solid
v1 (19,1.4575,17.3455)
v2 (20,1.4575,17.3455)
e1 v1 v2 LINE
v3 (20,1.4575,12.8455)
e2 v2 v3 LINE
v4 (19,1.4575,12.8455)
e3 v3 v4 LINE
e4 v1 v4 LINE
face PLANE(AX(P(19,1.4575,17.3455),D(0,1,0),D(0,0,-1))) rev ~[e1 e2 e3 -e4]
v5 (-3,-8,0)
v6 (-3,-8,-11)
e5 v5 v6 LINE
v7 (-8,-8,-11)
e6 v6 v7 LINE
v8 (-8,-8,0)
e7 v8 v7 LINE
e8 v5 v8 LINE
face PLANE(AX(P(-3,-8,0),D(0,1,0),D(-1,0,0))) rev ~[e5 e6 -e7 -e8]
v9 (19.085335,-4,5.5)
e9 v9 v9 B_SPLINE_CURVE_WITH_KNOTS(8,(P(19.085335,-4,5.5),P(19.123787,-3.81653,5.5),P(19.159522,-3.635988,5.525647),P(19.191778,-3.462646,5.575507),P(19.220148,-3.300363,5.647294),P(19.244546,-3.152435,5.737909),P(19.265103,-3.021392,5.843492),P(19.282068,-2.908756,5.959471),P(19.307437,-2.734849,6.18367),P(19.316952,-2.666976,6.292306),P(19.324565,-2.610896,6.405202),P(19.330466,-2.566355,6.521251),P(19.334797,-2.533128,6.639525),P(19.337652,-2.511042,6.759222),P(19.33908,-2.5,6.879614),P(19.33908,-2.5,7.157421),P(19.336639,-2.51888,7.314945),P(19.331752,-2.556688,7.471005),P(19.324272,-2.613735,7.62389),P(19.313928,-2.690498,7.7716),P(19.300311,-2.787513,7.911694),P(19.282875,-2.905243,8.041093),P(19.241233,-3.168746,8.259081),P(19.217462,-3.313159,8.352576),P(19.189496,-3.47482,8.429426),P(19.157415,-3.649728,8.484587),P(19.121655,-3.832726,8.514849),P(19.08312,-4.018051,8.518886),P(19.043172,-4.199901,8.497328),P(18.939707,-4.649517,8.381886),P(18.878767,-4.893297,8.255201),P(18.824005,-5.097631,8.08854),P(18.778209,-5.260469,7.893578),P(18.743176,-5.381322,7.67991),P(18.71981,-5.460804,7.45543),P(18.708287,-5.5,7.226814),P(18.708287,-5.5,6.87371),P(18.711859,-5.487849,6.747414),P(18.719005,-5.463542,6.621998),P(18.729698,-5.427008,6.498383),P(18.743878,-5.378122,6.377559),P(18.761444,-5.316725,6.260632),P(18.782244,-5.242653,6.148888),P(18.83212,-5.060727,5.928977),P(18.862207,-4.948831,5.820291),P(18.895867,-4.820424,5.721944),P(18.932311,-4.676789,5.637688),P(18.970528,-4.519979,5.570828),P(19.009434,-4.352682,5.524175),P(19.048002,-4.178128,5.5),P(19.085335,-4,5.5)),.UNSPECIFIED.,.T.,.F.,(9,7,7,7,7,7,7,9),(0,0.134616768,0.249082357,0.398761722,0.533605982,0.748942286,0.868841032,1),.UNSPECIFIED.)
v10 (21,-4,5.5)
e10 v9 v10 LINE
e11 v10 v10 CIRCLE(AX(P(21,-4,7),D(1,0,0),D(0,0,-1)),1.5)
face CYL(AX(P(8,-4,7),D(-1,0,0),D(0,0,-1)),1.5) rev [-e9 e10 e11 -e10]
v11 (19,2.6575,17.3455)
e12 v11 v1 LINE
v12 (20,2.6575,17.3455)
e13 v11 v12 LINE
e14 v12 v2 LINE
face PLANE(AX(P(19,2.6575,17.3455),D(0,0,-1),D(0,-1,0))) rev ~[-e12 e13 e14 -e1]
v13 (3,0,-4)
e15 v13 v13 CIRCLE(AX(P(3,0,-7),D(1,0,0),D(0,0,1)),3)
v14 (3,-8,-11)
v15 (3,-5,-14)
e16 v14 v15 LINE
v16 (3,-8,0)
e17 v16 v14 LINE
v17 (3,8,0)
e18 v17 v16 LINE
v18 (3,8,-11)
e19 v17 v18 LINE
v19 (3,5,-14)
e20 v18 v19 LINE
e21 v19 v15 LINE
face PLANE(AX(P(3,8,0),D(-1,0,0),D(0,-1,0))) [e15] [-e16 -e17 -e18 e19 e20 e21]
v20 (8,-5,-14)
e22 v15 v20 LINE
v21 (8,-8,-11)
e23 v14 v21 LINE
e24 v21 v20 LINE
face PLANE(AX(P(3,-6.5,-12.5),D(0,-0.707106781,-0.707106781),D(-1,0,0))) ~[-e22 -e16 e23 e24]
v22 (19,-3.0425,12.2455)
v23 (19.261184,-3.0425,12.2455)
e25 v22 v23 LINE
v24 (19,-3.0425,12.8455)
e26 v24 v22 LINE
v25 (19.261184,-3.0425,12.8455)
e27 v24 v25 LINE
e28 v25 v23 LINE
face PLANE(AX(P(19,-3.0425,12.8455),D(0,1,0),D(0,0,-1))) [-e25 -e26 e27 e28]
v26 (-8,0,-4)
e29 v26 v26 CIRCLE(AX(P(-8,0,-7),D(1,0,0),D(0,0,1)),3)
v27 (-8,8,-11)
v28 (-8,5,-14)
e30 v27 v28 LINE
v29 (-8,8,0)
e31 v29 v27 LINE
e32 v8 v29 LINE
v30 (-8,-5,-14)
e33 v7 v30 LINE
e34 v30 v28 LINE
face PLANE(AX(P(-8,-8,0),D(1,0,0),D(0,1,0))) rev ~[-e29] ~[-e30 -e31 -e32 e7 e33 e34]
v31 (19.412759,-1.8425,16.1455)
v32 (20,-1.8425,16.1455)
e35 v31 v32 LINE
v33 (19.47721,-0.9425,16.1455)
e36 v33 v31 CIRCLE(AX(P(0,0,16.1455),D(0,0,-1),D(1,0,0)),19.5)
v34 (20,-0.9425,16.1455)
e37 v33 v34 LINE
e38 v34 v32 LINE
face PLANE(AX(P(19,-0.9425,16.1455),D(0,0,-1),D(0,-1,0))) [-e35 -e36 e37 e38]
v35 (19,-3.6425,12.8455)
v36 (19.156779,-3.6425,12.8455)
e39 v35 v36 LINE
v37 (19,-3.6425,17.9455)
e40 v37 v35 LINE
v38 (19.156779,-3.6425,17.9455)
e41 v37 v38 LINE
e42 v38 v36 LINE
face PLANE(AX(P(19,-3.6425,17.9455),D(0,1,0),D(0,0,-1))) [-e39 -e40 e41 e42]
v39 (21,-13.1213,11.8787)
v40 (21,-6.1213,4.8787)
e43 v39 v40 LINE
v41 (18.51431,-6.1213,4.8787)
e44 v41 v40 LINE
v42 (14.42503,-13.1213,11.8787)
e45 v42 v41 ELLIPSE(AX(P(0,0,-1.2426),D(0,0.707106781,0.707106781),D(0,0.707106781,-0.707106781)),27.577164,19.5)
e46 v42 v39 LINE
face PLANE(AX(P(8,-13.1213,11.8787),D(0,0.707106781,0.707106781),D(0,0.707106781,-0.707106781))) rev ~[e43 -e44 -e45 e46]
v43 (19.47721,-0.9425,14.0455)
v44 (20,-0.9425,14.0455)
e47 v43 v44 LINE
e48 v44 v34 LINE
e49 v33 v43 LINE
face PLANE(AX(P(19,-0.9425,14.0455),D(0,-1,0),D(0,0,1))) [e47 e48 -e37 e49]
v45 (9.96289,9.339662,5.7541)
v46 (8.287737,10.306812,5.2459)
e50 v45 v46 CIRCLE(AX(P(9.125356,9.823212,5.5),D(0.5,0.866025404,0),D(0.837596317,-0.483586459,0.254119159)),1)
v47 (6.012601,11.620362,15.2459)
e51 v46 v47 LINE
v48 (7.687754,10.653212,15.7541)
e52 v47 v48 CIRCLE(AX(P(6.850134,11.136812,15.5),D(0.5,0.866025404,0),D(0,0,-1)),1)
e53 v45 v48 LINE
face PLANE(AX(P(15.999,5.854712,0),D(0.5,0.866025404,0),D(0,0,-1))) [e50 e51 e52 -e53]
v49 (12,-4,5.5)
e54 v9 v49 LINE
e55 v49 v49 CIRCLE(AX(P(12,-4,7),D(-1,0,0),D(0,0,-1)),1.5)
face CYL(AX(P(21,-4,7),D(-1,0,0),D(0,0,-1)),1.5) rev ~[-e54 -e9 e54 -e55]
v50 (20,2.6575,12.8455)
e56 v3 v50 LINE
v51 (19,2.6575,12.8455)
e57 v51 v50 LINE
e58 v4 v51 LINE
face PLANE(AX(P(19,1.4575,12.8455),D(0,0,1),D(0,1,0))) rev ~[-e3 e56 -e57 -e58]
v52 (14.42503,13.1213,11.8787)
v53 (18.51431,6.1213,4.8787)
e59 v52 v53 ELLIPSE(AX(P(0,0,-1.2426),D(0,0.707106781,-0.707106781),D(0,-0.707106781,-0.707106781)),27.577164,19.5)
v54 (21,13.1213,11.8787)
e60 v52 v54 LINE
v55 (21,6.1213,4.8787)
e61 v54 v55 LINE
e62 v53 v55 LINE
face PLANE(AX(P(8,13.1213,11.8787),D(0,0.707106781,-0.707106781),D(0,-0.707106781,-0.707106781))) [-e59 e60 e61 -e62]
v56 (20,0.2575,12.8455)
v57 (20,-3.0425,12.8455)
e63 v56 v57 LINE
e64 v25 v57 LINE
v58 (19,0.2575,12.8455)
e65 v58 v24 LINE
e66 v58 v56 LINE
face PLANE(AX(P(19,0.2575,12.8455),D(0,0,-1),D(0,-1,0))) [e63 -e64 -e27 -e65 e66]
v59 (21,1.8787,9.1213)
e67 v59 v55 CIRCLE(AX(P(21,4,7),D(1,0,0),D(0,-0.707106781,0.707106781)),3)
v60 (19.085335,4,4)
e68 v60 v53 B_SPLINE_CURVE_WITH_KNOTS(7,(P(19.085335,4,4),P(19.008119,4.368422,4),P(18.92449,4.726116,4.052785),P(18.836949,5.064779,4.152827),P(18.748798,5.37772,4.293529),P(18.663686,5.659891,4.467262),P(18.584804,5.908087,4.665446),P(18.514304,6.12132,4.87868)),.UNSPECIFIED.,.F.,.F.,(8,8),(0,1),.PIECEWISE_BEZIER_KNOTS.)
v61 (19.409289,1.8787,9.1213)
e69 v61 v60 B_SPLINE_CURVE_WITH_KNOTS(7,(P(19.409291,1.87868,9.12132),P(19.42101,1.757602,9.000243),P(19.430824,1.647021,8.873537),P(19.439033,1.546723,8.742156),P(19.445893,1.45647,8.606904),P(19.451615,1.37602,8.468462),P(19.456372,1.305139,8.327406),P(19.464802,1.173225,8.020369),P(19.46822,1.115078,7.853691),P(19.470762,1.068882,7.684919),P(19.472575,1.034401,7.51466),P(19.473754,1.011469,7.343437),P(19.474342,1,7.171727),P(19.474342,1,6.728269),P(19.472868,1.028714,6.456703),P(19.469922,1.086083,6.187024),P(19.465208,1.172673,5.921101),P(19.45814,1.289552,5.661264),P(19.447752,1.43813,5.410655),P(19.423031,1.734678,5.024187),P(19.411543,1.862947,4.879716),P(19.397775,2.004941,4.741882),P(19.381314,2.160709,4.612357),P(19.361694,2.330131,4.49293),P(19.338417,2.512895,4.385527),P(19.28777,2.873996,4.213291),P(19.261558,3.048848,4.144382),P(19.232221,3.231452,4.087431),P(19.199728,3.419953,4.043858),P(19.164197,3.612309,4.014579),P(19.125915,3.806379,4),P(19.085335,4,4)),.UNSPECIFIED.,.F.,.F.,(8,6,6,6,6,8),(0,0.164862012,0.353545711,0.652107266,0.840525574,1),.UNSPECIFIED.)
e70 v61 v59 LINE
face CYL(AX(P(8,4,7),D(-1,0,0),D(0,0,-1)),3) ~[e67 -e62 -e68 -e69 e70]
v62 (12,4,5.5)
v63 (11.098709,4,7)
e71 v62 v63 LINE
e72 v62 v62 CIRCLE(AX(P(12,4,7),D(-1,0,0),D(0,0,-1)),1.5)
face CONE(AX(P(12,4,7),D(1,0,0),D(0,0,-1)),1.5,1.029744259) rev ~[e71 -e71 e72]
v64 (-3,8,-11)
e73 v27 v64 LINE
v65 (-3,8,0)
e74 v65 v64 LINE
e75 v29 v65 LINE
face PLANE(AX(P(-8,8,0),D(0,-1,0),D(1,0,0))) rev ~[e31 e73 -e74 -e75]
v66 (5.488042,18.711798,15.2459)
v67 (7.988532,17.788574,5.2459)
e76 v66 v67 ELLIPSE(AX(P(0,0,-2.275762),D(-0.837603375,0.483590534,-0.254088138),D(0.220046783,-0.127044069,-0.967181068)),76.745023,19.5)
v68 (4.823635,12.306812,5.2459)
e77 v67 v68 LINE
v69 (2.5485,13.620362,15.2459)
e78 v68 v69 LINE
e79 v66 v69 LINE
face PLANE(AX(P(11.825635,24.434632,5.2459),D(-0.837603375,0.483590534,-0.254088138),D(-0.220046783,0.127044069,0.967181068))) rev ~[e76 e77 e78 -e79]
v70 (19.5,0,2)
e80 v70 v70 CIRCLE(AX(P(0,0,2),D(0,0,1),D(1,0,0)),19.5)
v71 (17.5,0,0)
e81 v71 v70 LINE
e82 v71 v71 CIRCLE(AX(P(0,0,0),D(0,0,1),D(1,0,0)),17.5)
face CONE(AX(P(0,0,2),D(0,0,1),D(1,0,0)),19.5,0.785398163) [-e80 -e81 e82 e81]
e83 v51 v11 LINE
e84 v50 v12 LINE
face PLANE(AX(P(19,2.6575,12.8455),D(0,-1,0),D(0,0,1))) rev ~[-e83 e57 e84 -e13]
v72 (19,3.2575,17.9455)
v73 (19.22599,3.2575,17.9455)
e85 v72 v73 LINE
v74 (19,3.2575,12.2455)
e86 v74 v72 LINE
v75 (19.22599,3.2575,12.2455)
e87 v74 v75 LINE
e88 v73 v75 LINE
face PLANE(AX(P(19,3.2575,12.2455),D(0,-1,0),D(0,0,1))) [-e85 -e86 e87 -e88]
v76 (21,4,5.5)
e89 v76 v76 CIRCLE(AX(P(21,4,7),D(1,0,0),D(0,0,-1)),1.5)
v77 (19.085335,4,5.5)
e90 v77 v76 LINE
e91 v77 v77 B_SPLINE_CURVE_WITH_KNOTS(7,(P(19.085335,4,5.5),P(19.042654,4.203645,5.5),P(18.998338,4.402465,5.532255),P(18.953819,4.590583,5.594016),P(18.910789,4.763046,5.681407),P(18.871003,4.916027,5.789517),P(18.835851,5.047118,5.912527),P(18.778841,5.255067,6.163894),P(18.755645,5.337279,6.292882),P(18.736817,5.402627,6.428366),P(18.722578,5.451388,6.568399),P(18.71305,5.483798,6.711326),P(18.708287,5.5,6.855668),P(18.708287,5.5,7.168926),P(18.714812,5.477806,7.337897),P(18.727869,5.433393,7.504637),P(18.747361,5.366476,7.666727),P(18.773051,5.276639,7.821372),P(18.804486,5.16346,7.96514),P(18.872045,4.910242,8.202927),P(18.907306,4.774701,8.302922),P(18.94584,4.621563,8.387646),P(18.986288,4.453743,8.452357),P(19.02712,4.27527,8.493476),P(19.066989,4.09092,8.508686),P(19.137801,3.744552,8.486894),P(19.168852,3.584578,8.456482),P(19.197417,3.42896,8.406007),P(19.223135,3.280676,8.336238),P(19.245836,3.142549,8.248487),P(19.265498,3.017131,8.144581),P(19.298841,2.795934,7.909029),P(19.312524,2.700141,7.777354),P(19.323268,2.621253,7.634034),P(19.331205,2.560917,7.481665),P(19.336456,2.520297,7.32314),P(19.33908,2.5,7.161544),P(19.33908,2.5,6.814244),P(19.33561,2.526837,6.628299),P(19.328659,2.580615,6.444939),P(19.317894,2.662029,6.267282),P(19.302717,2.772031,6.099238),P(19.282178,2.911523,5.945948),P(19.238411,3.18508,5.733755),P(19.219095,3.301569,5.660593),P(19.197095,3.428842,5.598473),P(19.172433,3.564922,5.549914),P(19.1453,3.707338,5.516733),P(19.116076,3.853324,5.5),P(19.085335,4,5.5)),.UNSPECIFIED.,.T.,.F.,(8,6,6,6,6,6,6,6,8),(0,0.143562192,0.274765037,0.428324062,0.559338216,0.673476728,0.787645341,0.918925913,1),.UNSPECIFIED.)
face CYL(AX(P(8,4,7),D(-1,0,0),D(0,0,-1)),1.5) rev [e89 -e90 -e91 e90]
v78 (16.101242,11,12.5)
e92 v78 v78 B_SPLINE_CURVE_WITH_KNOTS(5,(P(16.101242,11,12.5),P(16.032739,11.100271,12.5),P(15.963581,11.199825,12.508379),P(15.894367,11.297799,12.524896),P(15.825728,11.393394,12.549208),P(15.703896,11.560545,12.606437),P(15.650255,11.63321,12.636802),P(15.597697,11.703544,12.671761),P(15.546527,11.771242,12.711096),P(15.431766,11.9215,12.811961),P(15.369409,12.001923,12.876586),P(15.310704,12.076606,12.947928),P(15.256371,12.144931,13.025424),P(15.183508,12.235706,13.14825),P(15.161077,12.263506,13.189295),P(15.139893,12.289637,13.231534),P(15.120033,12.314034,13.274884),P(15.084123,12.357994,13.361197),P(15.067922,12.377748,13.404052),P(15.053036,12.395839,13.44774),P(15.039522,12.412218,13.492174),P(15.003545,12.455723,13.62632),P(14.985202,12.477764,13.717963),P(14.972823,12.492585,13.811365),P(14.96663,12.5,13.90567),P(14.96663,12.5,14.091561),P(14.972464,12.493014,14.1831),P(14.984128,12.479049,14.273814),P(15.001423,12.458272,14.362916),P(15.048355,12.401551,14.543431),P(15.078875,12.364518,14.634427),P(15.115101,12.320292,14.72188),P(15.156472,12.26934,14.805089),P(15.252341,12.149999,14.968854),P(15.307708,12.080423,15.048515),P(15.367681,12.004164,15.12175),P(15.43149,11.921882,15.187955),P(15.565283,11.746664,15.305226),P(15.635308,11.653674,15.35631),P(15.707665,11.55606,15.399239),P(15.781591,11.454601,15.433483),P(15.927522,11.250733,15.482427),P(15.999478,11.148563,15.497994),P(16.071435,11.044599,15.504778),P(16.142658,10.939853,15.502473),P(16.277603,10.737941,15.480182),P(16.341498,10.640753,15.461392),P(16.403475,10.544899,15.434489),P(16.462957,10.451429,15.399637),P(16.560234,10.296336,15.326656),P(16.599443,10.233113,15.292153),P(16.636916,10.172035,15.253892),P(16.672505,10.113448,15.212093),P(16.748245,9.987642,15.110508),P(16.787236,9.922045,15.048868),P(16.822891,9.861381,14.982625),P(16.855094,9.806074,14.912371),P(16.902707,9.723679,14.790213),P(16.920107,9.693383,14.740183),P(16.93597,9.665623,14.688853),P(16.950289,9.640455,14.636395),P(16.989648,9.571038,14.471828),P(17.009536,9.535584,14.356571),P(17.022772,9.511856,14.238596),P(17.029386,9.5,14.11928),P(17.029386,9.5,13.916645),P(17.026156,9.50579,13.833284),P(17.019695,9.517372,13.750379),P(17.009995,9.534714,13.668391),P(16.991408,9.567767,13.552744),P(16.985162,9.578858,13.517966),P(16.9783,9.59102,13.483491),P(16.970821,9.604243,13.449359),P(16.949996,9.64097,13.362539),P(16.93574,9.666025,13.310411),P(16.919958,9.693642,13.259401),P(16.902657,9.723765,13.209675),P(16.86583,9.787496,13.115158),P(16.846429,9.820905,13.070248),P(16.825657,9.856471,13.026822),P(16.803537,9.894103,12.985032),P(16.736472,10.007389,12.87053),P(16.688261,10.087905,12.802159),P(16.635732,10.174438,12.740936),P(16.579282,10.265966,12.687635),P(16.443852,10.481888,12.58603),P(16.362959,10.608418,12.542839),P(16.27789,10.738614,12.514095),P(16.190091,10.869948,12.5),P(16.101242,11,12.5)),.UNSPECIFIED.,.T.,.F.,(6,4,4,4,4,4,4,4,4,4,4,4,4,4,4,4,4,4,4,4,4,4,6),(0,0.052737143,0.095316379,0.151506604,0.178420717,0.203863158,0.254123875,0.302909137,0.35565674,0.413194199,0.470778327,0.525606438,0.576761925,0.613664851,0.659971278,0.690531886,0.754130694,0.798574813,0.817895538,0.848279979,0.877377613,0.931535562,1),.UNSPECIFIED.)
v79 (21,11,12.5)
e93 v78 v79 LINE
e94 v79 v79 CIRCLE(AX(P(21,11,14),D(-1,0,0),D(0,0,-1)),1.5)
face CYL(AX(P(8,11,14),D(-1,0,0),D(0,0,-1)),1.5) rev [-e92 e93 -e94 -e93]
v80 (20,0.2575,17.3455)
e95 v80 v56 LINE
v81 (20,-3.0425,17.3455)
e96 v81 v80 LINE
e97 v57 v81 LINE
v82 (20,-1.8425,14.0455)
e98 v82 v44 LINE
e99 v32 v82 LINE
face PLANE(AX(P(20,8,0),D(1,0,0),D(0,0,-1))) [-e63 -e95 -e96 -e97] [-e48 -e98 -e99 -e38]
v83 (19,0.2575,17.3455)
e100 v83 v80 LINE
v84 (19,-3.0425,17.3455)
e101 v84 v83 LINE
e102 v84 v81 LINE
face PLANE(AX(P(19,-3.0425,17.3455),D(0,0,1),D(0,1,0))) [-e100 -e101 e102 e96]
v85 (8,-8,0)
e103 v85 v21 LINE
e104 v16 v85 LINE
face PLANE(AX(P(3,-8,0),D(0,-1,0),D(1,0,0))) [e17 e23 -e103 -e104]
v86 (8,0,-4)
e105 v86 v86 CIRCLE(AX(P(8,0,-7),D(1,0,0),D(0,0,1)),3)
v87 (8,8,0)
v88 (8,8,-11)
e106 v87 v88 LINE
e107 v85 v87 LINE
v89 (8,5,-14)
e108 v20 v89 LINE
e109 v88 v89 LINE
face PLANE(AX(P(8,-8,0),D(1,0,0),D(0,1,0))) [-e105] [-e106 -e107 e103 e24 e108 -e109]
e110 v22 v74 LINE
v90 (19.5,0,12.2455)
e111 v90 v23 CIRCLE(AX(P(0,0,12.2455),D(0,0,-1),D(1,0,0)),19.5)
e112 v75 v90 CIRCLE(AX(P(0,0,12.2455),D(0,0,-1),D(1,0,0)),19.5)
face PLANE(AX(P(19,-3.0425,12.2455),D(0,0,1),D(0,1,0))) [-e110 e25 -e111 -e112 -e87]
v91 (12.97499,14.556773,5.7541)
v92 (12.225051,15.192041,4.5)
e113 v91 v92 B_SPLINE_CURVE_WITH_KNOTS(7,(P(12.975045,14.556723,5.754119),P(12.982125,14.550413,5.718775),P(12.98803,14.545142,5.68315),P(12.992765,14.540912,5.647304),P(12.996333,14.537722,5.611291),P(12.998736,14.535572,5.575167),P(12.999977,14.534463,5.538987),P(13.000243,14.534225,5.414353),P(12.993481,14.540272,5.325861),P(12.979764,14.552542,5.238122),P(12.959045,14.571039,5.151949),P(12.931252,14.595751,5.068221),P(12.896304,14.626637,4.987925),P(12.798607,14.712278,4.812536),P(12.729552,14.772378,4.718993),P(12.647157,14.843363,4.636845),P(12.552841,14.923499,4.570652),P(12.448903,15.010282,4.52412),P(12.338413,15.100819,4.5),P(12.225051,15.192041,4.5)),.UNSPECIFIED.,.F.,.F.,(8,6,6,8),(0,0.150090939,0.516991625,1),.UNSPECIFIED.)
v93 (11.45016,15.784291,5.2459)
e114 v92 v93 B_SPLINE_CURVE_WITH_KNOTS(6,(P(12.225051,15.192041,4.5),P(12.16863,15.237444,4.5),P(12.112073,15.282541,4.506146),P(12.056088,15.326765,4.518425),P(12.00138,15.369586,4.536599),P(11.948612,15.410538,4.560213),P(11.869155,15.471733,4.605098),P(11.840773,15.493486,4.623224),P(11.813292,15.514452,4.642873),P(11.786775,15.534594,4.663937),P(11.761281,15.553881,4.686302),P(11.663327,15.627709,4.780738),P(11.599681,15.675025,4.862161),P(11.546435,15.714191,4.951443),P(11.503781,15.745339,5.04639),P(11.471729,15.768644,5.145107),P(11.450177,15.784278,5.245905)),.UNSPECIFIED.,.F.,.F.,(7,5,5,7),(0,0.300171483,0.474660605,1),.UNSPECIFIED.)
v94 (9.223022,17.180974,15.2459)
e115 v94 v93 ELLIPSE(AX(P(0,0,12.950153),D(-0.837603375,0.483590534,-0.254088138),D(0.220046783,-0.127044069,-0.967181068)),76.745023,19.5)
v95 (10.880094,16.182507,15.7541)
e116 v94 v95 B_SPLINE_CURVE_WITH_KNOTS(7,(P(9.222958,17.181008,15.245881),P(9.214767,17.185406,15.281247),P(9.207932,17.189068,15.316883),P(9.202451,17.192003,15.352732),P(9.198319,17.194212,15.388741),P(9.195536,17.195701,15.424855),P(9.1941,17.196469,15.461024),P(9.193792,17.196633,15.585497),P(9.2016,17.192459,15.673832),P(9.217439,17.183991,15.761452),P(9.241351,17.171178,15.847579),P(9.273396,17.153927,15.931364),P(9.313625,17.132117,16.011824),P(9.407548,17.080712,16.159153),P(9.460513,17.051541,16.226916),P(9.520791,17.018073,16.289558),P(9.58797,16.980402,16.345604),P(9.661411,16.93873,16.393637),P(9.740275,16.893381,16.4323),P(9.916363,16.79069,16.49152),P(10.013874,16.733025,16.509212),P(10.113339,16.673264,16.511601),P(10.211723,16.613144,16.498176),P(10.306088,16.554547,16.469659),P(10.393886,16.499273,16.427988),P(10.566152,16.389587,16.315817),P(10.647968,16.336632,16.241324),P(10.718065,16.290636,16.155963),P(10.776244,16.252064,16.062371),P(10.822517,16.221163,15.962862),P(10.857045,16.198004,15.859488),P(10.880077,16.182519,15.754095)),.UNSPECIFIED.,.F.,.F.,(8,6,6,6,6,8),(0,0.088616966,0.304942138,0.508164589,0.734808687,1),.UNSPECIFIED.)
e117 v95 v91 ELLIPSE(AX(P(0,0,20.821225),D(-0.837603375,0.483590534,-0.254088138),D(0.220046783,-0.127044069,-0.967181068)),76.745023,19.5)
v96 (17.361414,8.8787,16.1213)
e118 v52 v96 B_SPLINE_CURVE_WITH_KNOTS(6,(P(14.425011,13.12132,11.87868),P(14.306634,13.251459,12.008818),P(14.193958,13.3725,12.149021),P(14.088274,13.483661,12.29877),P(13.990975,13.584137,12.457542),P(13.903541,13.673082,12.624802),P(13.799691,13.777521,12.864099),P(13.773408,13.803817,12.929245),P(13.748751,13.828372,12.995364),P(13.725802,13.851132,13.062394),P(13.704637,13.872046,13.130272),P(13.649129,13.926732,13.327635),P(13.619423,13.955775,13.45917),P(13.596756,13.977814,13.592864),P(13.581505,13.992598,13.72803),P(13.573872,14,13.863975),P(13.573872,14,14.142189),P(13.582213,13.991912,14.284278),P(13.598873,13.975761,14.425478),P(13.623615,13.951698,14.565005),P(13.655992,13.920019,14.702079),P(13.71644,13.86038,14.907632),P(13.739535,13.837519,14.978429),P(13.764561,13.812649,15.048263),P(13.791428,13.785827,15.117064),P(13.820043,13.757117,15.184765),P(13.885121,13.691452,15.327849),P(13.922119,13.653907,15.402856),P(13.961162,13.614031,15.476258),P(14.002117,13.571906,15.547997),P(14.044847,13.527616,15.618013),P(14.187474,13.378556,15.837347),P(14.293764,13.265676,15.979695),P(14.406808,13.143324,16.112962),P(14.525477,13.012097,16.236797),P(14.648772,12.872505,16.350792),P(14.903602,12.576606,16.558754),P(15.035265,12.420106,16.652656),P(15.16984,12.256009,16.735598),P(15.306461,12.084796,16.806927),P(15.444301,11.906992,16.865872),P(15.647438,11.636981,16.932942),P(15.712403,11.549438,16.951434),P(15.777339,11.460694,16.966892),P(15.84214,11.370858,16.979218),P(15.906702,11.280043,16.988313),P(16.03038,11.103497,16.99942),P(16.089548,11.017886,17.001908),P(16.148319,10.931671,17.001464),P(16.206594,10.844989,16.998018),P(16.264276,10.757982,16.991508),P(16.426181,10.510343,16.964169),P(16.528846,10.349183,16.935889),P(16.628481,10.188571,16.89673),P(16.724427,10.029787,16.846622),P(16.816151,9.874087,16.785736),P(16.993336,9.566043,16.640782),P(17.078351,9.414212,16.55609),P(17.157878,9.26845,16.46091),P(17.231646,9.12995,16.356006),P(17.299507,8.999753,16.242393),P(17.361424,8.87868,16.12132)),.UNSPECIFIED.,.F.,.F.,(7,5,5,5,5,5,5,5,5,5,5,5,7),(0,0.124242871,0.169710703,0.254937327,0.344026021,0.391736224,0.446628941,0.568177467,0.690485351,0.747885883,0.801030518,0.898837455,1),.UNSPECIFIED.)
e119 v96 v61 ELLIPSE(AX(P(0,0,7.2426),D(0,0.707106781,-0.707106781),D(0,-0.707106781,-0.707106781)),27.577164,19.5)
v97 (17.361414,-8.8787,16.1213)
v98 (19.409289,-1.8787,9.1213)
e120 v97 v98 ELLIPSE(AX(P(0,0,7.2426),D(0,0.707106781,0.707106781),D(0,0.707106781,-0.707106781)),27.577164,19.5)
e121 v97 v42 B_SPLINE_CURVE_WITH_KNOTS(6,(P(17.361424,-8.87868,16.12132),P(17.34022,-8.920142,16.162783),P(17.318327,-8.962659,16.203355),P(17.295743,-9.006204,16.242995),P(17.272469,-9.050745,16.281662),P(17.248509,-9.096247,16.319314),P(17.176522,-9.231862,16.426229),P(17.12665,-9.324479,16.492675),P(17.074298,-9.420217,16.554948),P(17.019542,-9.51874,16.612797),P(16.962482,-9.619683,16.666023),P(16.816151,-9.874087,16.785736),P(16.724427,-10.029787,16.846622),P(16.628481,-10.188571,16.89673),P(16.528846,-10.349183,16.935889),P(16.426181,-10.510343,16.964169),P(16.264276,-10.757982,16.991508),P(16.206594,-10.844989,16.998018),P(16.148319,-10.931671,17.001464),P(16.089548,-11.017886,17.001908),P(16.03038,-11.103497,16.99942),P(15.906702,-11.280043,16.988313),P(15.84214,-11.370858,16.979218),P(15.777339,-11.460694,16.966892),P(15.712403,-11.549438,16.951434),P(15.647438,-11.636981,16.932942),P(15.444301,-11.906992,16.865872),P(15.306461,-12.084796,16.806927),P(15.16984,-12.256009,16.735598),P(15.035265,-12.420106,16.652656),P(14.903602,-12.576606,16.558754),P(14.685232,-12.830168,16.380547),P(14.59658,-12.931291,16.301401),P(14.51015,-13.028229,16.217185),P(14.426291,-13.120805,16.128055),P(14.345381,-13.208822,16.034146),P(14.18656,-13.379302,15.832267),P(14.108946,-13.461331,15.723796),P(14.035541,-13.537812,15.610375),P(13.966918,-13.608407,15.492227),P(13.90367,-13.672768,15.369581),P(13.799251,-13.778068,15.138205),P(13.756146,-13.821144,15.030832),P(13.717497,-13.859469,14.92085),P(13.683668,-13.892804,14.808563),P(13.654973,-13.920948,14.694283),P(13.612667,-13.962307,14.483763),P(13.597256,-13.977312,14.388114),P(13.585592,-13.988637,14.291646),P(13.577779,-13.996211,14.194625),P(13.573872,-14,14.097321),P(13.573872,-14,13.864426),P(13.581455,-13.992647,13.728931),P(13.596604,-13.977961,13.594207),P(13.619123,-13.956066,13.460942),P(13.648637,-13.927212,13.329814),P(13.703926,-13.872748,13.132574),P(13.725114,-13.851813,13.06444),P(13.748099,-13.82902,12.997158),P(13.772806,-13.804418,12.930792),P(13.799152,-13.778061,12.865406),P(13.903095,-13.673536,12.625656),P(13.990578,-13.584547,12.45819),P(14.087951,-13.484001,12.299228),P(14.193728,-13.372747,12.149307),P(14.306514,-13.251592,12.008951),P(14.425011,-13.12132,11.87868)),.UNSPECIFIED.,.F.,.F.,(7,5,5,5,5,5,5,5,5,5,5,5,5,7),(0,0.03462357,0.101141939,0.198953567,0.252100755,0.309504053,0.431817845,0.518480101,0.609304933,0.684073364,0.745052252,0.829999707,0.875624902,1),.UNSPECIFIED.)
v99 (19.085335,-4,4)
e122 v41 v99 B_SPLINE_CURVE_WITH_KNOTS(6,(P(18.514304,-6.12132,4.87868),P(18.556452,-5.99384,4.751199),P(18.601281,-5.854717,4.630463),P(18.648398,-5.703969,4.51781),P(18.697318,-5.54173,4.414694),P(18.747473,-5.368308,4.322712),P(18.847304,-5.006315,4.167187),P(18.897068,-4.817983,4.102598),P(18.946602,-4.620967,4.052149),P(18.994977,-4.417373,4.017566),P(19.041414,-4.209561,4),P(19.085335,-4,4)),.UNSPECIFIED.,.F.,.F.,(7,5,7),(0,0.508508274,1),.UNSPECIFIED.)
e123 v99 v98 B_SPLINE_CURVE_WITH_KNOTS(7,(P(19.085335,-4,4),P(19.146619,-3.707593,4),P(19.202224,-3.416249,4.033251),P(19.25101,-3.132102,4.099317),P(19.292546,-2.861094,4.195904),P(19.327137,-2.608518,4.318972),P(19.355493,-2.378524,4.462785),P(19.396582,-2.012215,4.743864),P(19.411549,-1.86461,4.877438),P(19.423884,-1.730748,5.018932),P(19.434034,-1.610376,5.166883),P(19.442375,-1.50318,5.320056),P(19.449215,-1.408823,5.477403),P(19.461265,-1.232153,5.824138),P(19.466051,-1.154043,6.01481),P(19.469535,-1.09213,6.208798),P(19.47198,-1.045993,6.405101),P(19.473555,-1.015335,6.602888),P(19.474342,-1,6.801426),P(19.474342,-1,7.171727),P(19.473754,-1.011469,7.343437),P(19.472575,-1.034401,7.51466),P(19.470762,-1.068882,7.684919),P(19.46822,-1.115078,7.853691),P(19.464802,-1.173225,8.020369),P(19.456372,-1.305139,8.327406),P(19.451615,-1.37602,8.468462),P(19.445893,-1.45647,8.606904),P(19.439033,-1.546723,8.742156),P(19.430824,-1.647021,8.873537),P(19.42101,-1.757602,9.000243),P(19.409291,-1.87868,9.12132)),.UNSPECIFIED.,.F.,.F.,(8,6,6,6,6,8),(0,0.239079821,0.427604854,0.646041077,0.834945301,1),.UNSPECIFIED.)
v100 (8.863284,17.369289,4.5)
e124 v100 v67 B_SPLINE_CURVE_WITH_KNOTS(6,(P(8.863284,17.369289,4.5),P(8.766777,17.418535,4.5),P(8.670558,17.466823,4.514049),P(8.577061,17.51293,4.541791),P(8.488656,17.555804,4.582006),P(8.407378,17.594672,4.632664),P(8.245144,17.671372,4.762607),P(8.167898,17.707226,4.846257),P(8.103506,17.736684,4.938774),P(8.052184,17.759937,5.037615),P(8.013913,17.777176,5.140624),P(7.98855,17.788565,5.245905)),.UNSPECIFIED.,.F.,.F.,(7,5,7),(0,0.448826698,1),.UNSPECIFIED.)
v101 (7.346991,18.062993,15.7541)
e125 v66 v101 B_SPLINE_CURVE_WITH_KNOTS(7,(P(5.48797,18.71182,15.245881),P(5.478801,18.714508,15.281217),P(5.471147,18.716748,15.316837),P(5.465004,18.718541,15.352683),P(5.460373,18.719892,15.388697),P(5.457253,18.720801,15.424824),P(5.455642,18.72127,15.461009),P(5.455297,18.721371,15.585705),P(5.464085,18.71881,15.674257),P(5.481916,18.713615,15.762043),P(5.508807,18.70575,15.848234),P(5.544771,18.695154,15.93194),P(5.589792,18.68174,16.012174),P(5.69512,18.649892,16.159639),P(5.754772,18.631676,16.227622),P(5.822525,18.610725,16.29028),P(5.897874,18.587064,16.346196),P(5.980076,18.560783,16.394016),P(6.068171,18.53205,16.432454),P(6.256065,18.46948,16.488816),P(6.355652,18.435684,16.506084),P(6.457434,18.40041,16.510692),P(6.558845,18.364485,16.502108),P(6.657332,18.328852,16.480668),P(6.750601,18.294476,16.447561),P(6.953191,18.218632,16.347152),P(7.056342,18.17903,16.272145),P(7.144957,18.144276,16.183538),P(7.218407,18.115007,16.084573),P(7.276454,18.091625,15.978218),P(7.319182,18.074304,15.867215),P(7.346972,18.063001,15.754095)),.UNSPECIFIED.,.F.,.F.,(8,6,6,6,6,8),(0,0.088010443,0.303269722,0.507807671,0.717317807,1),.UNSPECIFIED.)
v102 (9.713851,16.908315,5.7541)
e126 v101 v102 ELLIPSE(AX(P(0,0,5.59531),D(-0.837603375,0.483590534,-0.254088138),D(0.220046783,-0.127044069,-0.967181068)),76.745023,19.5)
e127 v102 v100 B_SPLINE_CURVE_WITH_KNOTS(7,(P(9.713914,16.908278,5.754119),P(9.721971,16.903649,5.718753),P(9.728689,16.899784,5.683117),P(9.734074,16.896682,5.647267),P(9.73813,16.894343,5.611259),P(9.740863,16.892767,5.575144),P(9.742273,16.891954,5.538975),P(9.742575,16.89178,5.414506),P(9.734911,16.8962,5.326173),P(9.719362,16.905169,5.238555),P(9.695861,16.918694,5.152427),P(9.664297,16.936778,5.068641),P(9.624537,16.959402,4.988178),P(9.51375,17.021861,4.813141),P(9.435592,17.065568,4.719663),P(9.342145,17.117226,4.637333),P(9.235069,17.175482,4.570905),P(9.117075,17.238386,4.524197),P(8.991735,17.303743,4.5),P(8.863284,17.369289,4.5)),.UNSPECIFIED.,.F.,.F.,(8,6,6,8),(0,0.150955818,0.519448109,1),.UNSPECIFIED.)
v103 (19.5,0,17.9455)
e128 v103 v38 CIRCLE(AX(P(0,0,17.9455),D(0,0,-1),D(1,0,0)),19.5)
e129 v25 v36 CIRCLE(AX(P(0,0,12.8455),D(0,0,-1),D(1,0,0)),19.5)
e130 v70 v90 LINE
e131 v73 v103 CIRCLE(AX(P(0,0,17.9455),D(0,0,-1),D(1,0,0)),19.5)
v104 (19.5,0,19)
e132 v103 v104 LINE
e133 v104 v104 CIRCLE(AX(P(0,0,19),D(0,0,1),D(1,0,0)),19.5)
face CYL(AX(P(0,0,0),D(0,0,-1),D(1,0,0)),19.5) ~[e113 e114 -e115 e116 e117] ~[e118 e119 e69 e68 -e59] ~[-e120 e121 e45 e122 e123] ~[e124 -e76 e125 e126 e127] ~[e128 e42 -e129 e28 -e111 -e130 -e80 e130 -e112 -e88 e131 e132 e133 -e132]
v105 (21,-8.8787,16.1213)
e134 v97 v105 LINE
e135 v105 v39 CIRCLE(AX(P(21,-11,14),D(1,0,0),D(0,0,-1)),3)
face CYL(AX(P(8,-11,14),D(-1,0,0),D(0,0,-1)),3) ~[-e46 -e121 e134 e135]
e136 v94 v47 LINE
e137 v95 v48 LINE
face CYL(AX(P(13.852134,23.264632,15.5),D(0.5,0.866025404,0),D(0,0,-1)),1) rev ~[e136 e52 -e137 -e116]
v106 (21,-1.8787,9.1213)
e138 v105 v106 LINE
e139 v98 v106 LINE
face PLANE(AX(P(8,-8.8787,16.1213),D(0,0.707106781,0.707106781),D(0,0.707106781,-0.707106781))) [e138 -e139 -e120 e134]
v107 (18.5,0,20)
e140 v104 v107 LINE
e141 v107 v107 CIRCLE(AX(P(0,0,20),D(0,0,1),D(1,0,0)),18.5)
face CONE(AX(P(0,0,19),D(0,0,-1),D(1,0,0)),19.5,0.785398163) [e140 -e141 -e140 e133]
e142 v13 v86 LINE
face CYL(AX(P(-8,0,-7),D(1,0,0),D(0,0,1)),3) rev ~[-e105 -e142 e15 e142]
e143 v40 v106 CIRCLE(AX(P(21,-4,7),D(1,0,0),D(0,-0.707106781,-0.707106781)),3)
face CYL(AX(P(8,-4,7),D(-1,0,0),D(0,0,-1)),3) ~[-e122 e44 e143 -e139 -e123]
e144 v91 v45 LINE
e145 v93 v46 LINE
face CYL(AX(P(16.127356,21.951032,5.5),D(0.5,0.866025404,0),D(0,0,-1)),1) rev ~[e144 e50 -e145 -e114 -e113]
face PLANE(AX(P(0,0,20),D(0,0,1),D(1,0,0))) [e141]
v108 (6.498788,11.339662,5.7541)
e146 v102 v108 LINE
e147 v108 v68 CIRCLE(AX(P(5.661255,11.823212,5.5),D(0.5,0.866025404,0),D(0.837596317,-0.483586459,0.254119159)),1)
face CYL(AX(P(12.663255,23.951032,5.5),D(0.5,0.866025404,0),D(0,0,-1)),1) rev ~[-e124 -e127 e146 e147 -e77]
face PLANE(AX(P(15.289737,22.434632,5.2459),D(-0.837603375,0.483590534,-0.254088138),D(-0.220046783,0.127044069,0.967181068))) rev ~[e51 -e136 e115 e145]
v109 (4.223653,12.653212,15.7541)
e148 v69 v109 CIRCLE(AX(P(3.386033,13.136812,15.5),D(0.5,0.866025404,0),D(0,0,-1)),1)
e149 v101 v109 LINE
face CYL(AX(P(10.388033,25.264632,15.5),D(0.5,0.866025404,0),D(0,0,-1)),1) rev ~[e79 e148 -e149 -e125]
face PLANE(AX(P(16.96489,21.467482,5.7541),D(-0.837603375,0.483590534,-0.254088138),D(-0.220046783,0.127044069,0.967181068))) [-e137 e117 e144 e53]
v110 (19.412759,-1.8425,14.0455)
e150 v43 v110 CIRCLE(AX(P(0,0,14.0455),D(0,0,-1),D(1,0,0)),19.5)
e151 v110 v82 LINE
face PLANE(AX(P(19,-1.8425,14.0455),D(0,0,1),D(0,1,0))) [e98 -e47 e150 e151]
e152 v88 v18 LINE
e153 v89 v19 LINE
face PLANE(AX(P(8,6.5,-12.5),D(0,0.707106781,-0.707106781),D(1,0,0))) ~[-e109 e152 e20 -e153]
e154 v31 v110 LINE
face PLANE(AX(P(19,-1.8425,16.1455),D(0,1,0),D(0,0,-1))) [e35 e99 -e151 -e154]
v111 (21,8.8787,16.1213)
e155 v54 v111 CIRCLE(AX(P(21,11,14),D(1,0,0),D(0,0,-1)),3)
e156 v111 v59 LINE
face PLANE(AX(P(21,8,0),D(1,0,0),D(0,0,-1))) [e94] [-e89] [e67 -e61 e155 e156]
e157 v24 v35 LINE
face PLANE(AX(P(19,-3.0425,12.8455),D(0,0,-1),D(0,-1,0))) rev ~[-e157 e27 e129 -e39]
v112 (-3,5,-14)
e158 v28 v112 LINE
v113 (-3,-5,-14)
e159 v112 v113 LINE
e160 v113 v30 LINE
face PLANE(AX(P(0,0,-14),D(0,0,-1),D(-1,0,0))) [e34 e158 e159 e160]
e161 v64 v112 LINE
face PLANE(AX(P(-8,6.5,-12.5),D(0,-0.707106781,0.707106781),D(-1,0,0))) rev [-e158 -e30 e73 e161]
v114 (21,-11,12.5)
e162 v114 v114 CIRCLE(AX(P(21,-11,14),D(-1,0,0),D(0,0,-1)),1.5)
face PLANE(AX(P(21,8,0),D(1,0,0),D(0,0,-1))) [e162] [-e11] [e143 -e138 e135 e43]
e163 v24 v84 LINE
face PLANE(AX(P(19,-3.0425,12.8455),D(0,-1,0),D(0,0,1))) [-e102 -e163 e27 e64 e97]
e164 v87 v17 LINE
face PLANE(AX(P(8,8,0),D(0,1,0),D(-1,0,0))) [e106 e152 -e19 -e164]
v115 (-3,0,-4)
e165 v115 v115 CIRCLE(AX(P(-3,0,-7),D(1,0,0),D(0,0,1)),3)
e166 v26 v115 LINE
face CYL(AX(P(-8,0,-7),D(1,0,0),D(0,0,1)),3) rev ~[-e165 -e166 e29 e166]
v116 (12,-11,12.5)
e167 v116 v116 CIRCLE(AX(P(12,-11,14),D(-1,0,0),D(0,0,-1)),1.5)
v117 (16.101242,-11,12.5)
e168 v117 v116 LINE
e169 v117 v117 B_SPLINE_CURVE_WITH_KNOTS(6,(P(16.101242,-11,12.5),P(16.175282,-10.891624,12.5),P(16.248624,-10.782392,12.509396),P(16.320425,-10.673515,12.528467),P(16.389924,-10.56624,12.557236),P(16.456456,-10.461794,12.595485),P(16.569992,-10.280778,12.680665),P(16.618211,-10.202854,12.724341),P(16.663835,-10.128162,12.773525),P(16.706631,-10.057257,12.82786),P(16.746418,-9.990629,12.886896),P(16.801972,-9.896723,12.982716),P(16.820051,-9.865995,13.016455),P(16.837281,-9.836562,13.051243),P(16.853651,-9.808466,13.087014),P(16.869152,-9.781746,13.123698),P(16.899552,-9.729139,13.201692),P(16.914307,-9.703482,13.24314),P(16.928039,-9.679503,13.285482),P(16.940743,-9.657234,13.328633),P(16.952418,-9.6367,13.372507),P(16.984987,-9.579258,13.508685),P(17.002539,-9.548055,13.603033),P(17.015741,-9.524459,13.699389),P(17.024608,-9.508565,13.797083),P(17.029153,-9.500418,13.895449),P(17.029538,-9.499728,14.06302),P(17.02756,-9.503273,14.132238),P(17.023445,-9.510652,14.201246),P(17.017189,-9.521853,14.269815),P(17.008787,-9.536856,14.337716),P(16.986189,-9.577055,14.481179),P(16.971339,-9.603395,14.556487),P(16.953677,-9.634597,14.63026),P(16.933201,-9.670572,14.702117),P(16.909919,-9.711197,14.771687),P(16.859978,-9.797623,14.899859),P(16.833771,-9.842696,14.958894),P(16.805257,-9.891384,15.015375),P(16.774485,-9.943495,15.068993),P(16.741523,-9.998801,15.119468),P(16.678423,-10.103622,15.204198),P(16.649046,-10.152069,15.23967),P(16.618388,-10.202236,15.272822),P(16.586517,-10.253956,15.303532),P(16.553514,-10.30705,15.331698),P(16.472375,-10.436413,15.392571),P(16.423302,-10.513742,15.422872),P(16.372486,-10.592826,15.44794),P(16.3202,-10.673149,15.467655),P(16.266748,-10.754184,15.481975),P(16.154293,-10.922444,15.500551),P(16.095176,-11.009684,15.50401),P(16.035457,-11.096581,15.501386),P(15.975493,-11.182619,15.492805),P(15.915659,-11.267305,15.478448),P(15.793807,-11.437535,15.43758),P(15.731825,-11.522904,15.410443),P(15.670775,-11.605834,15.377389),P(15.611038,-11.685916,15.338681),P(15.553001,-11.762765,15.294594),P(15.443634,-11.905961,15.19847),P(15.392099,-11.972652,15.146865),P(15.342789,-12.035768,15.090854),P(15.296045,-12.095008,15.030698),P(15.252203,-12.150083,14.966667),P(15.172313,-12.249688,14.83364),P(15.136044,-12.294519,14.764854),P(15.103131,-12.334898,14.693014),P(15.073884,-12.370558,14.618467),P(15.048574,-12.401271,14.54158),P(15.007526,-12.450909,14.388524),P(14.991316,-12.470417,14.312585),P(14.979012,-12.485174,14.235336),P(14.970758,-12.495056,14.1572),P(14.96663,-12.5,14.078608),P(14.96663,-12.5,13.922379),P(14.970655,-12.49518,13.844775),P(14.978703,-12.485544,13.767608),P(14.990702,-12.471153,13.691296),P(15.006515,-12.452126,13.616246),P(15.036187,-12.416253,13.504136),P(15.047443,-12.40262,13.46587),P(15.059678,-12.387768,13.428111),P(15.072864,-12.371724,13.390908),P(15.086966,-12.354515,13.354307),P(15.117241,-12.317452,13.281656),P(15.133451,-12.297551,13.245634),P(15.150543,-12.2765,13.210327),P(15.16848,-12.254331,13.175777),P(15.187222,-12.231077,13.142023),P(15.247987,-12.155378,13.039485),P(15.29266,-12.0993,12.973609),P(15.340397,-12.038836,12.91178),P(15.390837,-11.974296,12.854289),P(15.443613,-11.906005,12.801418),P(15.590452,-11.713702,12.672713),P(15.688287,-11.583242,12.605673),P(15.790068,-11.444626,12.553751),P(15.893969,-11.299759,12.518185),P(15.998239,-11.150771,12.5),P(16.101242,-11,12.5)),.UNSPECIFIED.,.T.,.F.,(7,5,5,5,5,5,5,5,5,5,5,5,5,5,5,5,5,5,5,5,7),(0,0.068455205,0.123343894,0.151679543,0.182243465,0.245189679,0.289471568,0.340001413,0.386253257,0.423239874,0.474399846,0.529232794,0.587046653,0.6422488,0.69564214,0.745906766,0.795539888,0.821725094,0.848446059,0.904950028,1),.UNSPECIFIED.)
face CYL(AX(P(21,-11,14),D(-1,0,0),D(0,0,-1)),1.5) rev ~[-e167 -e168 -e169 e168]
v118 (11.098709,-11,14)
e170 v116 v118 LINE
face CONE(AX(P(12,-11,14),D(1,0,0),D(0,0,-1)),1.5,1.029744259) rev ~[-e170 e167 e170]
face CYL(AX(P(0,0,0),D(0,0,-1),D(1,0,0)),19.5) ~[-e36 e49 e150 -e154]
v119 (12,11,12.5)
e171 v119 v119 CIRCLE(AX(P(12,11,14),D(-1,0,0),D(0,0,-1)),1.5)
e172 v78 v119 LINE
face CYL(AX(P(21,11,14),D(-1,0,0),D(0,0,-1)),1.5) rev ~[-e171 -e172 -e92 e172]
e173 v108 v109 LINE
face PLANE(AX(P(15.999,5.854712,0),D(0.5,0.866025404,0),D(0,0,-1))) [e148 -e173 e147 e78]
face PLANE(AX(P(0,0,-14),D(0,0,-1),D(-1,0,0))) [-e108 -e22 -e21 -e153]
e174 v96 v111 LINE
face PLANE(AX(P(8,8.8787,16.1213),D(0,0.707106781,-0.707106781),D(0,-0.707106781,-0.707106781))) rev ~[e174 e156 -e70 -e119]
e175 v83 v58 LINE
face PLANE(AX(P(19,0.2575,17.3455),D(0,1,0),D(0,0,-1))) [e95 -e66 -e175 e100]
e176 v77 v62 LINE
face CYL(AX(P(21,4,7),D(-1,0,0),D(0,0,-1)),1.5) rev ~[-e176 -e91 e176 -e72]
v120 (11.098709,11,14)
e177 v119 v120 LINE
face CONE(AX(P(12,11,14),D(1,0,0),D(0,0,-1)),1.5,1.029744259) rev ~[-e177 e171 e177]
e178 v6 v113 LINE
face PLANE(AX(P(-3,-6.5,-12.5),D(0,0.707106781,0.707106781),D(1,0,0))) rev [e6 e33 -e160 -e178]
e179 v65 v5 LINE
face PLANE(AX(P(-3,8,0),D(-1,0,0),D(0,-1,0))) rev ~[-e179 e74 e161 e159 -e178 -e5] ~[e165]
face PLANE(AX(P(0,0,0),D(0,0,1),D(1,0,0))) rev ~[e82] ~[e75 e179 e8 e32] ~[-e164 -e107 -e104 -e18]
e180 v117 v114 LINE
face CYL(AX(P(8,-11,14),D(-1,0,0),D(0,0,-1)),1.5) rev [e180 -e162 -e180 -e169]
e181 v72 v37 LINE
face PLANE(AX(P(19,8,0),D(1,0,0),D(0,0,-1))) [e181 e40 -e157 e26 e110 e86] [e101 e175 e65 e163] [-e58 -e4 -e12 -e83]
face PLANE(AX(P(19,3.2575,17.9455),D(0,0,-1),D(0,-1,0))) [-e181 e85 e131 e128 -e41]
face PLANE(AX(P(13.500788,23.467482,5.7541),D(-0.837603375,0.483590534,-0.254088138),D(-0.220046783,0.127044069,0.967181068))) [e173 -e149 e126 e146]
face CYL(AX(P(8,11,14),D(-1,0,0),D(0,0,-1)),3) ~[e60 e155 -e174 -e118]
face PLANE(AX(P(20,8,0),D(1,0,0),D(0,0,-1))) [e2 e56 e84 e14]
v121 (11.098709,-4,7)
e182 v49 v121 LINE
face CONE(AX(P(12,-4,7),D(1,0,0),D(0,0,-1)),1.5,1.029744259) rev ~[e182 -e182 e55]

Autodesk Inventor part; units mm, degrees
sketch "Base" plane through (0, 0, 0) normal (0, 0, 1) x (1, 0, 0)
  circle A0 centre (0, 0) radius 19.5
  dimension "d0" = 39
extrude "BaseFeature" add sketch "Base" along normal blind 20
sketch "Mount" plane through (0, 0, 0) normal (0, 0, -1) x (-1, 0, 0)
  line L0 (8, 8) -> (-8, 8) construction
  line L1 (-8, 8) -> (-8, -8) construction
  line L2 (-8, -8) -> (8, -8) construction
  line L3 (8, -8) -> (8, 8) construction
  line L4 (27.3, 0) -> (-27.3, 0) construction
  line L5 (0, -27.3) -> (0, 27.3) construction
  line L6 (8, 8) -> (3, 8)
  line L7 (3, 8) -> (3, -8)
  line L8 (3, -8) -> (8, -8)
  line L9 (8, -8) -> (8, 8)
  line L10 (-8, 8) -> (-3, 8)
  line L11 (-3, 8) -> (-3, -8)
  line L12 (-3, -8) -> (-8, -8)
  line L13 (-8, -8) -> (-8, 8)
  point P0 (0, 0)
  point P1 (8, 0)
  point P2 (0, -8)
  dimension "d3" = 16
  dimension "d4" = 16
  dimension "d5" = 6
extrude "MountFeature" add sketch "Mount" along normal blind 14
chamfer "MountChamferFeature" distance 3 angle 45 4 edges at (-5.5, -8, -14) (5.5, -8, -14) (5.5, 8, -14) (-5.5, 8, -14)
chamfer "BaseChamferBottomFeature" distance 2 angle 45 1 edges at (-19.5, 0, 0)
chamfer "BaseChamferTopFeature" distance 1 angle 45 1 edges at (-19.5, 0, 20)
sketch "Sketch4" plane through (-8, -8, 0) normal (-1, 0, 0) x (0, 0, 1)
  line L0 (-14, 13) -> (-14, 3) construction
  line L1 (-14, 8) -> (0, 8) construction
  line L2 (0, 16) -> (0, 0) construction
  circle A0 centre (-7, 8) radius 3
  dimension "d20" = 6
hole "MountHoleFeature" at (-8, 0, -7) direction (1, 0, 0) diameter 6 end through all
ref_plane "SurfaceMountsPlane" through (8, 8, 0) normal (1, 0, 0) x (0, 0, -1)
sketch "SurfaceMounts" plane through (8, 8, 0) normal (1, 0, 0) x (0, 0, -1)
  circle A0 centre (-7, -12) radius 1.5
  circle A1 centre (-14, -19) radius 1.5
  line L0 (-12.9393, -20.0607) -> (-5.9393, -13.0607)
  line L1 (-15.0607, -17.9393) -> (-8.0607, -10.9393)
  line L2 (-2, -27.5) -> (-2, 11.5) construction
  circle A2 centre (-14, -19) radius 3
  circle A3 centre (-7, -12) radius 3
  line L3 (-16.1213, -16.8787) -> (-9.1213, -9.8787)
  line L4 (-2, -27.5) -> (-19, -27.5) construction
  line L5 (-11.8787, -21.1213) -> (-4.8787, -14.1213)
  line L6 (-19, 11.5) -> (-19, -27.5) construction
  line L7 (-19, -8) -> (-2, -8) construction
  circle A4 centre (-7, -4) radius 1.5
  circle A5 centre (-14, 3) radius 1.5
  line L8 (-12.9393, 4.0607) -> (-5.9393, -2.9393)
  line L9 (-15.0607, 1.9393) -> (-8.0607, -5.0607)
  circle A6 centre (-14, 3) radius 3
  circle A7 centre (-7, -4) radius 3
  line L10 (-16.1213, 0.8787) -> (-9.1213, -6.1213)
  line L11 (-11.8787, 5.1213) -> (-4.8787, -1.8787)
  dimension "d29" = 3
  dimension "d30" = 45
  dimension "d31" = 6
  dimension "d32" = 6
  dimension "d33" = 8.5
  dimension "d34" = 5
  dimension "d35" = 5
  dimension "d36" = 4
  dimension "d55" = 8.5
extrude "SurfaceMountsFeature" add sketch "SurfaceMounts" along normal blind 13 contours A0 L1 A3 L0 | A0 L0 A3 L1 | A3 L0 A2 L1 | L1 A2 L3 A3 | A3 L5 A2 L0 | A2 L0 A1 L1 | L1 A1 L0 A2 | A4 L8 A7 L9 | A4 L9 A7 L8 | A7 L9 A6 L8 | L8 A6 L11 A7 | A7 L10 A6 L9 | A6 L9 A5 L8 | L8 A5 L9 A6
ref_plane "VentHolesPlane" through (8, -8, 0) normal (0.5, 0.866, 0) x (0, 0, -1)
sketch "FixHoles" plane through (21, 8, 0) normal (1, 0, 0) x (0, -1, 0)
  circle A0 centre (19, -14) radius 1.5 projected
  circle A1 centre (12, -7) radius 1.5 projected
  circle A2 centre (4, -7) radius 1.5 projected
  circle A3 centre (-3, -14) radius 1.5 projected
  point P0 (8, 0)
hole "FixHolesFeature" at (21, -4, 7) at (21, -11, 14) at (21, 4, 7) at (21, 11, 14) direction (-1, 0, 0) diameter 3 depth 9 tip angle 118
ref_plane "VentHolesOffsetPlane" through (23, 17.9808, 0) normal (0.5, 0.866, 0) x (0, 0, -1)
sketch "VentHoles" plane through (23, 17.9808, 0) normal (0.5, 0.866, 0) x (0, 0, -1)
  line L0 (-5.5, 11.937) -> (-15.5, 14.5642) construction
  circle A0 centre (-5.5, 11.937) radius 1
  circle A1 centre (-15.5, 14.5642) radius 1
  line L1 (-5.7541, 10.9699) -> (-15.7541, 13.597)
  line L2 (-5.2459, 12.9042) -> (-15.2459, 15.5313)
  line L3 (-2, -8.5718) -> (-2, 30.4282) construction
  line L4 (-5.5, 7.937) -> (-15.5, 10.5642) construction
  circle A2 centre (-5.5, 7.937) radius 1
  circle A3 centre (-15.5, 10.5642) radius 1
  line L5 (-5.7541, 6.9699) -> (-15.7541, 9.597)
  line L6 (-5.2459, 8.9042) -> (-15.2459, 11.5313)
  line L7 (-2, -8.5718) -> (-2, 30.4282) projected
  line L8 (-19, 30.4282) -> (-19, -8.5718) construction
  point P0 (-11.8787, 4.9964)
  dimension "d57" = 2
  dimension "d61" = 10
  dimension "d67" = 4
  dimension "d81" = 3.5
  dimension "d82" = 3.5
  dimension "d83" = 2.9406
  dimension "d84" = 75.28
extrude "VentHolesFeature" cut sketch "VentHoles" against normal blind 14
ref_plane "LogoPlane" through (19, 8, 0) normal (1, 0, 0) x (0, 0, -1)
sketch "Logo" plane through (19, 8, 0) normal (1, 0, 0) x (0, 0, -1)
  line L0 (-12.8455, -6.5425) -> (-12.8455, -5.3425)
  line L1 (-17.3455, -6.5425) -> (-12.8455, -6.5425)
  line L2 (-12.2455, -4.7425) -> (-17.9455, -4.7425)
  line L3 (-12.8455, -5.3425) -> (-17.3455, -5.3425)
  line L4 (-12.8455, -11.0425) -> (-12.2455, -11.0425)
  line L5 (-12.8455, -11.0425) -> (-12.8455, -11.6425)
  line L6 (-17.3455, -5.3425) -> (-17.3455, -6.5425)
  line L7 (-17.3455, -7.7425) -> (-12.8455, -7.7425)
  line L8 (-14.0455, -9.8425) -> (-14.0455, -8.9425)
  line L9 (-16.1455, -9.8425) -> (-14.0455, -9.8425)
  line L10 (-16.1455, -8.9425) -> (-16.1455, -9.8425)
  line L11 (-12.2455, -11.0425) -> (-12.2455, -4.7425)
  line L12 (-17.9455, -4.7425) -> (-17.9455, -11.6425)
  line L13 (-12.8455, -7.7425) -> (-12.8455, -11.0425)
  line L14 (-17.3455, -11.0425) -> (-17.3455, -7.7425)
  line L15 (-17.9455, -11.6425) -> (-12.8455, -11.6425)
  line L16 (-14.0455, -8.9425) -> (-16.1455, -8.9425)
  line L17 (-12.8455, -11.0425) -> (-17.3455, -11.0425)
  circle A0 centre (-14, -19) radius 1.5
  circle A1 centre (-14, 3) radius 1.5
  point P0 (0, -8)
  dimension "d101" = 90
  dimension "d102" = 90
  dimension "d103" = 90
  dimension "d104" = 90
  dimension "d105" = 0.6
  dimension "d106" = 1.8
  dimension "d107" = 3.9
  dimension "d108" = 5.1
  dimension "d109" = 5.7
  dimension "d110" = 0.6
  dimension "d111" = 1.8
  dimension "d112" = 3
  dimension "d113" = 4.2
  dimension "d114" = 5.1
  dimension "d115" = 6.3
  dimension "d116" = 6.9
  dimension "d117" = 12.2455
  dimension "d118" = 3.0425
  dimension "d119" = 12.8455
  dimension "d120" = 17.3455
extrude "LogoPositiveFeature" add sketch "Logo" along normal blind 1 contours L1 L6 L3 L0 | L17 L14 L7 L13
extrude "LogoNegativeFeature" cut sketch "Logo" along normal blind 5 contours L11 L4 L5 L15 L12 L2
equation "\"d55\" = d33"
equation "\"d82\" = d81"
properties part number "VacuumTubeHolderBase"
